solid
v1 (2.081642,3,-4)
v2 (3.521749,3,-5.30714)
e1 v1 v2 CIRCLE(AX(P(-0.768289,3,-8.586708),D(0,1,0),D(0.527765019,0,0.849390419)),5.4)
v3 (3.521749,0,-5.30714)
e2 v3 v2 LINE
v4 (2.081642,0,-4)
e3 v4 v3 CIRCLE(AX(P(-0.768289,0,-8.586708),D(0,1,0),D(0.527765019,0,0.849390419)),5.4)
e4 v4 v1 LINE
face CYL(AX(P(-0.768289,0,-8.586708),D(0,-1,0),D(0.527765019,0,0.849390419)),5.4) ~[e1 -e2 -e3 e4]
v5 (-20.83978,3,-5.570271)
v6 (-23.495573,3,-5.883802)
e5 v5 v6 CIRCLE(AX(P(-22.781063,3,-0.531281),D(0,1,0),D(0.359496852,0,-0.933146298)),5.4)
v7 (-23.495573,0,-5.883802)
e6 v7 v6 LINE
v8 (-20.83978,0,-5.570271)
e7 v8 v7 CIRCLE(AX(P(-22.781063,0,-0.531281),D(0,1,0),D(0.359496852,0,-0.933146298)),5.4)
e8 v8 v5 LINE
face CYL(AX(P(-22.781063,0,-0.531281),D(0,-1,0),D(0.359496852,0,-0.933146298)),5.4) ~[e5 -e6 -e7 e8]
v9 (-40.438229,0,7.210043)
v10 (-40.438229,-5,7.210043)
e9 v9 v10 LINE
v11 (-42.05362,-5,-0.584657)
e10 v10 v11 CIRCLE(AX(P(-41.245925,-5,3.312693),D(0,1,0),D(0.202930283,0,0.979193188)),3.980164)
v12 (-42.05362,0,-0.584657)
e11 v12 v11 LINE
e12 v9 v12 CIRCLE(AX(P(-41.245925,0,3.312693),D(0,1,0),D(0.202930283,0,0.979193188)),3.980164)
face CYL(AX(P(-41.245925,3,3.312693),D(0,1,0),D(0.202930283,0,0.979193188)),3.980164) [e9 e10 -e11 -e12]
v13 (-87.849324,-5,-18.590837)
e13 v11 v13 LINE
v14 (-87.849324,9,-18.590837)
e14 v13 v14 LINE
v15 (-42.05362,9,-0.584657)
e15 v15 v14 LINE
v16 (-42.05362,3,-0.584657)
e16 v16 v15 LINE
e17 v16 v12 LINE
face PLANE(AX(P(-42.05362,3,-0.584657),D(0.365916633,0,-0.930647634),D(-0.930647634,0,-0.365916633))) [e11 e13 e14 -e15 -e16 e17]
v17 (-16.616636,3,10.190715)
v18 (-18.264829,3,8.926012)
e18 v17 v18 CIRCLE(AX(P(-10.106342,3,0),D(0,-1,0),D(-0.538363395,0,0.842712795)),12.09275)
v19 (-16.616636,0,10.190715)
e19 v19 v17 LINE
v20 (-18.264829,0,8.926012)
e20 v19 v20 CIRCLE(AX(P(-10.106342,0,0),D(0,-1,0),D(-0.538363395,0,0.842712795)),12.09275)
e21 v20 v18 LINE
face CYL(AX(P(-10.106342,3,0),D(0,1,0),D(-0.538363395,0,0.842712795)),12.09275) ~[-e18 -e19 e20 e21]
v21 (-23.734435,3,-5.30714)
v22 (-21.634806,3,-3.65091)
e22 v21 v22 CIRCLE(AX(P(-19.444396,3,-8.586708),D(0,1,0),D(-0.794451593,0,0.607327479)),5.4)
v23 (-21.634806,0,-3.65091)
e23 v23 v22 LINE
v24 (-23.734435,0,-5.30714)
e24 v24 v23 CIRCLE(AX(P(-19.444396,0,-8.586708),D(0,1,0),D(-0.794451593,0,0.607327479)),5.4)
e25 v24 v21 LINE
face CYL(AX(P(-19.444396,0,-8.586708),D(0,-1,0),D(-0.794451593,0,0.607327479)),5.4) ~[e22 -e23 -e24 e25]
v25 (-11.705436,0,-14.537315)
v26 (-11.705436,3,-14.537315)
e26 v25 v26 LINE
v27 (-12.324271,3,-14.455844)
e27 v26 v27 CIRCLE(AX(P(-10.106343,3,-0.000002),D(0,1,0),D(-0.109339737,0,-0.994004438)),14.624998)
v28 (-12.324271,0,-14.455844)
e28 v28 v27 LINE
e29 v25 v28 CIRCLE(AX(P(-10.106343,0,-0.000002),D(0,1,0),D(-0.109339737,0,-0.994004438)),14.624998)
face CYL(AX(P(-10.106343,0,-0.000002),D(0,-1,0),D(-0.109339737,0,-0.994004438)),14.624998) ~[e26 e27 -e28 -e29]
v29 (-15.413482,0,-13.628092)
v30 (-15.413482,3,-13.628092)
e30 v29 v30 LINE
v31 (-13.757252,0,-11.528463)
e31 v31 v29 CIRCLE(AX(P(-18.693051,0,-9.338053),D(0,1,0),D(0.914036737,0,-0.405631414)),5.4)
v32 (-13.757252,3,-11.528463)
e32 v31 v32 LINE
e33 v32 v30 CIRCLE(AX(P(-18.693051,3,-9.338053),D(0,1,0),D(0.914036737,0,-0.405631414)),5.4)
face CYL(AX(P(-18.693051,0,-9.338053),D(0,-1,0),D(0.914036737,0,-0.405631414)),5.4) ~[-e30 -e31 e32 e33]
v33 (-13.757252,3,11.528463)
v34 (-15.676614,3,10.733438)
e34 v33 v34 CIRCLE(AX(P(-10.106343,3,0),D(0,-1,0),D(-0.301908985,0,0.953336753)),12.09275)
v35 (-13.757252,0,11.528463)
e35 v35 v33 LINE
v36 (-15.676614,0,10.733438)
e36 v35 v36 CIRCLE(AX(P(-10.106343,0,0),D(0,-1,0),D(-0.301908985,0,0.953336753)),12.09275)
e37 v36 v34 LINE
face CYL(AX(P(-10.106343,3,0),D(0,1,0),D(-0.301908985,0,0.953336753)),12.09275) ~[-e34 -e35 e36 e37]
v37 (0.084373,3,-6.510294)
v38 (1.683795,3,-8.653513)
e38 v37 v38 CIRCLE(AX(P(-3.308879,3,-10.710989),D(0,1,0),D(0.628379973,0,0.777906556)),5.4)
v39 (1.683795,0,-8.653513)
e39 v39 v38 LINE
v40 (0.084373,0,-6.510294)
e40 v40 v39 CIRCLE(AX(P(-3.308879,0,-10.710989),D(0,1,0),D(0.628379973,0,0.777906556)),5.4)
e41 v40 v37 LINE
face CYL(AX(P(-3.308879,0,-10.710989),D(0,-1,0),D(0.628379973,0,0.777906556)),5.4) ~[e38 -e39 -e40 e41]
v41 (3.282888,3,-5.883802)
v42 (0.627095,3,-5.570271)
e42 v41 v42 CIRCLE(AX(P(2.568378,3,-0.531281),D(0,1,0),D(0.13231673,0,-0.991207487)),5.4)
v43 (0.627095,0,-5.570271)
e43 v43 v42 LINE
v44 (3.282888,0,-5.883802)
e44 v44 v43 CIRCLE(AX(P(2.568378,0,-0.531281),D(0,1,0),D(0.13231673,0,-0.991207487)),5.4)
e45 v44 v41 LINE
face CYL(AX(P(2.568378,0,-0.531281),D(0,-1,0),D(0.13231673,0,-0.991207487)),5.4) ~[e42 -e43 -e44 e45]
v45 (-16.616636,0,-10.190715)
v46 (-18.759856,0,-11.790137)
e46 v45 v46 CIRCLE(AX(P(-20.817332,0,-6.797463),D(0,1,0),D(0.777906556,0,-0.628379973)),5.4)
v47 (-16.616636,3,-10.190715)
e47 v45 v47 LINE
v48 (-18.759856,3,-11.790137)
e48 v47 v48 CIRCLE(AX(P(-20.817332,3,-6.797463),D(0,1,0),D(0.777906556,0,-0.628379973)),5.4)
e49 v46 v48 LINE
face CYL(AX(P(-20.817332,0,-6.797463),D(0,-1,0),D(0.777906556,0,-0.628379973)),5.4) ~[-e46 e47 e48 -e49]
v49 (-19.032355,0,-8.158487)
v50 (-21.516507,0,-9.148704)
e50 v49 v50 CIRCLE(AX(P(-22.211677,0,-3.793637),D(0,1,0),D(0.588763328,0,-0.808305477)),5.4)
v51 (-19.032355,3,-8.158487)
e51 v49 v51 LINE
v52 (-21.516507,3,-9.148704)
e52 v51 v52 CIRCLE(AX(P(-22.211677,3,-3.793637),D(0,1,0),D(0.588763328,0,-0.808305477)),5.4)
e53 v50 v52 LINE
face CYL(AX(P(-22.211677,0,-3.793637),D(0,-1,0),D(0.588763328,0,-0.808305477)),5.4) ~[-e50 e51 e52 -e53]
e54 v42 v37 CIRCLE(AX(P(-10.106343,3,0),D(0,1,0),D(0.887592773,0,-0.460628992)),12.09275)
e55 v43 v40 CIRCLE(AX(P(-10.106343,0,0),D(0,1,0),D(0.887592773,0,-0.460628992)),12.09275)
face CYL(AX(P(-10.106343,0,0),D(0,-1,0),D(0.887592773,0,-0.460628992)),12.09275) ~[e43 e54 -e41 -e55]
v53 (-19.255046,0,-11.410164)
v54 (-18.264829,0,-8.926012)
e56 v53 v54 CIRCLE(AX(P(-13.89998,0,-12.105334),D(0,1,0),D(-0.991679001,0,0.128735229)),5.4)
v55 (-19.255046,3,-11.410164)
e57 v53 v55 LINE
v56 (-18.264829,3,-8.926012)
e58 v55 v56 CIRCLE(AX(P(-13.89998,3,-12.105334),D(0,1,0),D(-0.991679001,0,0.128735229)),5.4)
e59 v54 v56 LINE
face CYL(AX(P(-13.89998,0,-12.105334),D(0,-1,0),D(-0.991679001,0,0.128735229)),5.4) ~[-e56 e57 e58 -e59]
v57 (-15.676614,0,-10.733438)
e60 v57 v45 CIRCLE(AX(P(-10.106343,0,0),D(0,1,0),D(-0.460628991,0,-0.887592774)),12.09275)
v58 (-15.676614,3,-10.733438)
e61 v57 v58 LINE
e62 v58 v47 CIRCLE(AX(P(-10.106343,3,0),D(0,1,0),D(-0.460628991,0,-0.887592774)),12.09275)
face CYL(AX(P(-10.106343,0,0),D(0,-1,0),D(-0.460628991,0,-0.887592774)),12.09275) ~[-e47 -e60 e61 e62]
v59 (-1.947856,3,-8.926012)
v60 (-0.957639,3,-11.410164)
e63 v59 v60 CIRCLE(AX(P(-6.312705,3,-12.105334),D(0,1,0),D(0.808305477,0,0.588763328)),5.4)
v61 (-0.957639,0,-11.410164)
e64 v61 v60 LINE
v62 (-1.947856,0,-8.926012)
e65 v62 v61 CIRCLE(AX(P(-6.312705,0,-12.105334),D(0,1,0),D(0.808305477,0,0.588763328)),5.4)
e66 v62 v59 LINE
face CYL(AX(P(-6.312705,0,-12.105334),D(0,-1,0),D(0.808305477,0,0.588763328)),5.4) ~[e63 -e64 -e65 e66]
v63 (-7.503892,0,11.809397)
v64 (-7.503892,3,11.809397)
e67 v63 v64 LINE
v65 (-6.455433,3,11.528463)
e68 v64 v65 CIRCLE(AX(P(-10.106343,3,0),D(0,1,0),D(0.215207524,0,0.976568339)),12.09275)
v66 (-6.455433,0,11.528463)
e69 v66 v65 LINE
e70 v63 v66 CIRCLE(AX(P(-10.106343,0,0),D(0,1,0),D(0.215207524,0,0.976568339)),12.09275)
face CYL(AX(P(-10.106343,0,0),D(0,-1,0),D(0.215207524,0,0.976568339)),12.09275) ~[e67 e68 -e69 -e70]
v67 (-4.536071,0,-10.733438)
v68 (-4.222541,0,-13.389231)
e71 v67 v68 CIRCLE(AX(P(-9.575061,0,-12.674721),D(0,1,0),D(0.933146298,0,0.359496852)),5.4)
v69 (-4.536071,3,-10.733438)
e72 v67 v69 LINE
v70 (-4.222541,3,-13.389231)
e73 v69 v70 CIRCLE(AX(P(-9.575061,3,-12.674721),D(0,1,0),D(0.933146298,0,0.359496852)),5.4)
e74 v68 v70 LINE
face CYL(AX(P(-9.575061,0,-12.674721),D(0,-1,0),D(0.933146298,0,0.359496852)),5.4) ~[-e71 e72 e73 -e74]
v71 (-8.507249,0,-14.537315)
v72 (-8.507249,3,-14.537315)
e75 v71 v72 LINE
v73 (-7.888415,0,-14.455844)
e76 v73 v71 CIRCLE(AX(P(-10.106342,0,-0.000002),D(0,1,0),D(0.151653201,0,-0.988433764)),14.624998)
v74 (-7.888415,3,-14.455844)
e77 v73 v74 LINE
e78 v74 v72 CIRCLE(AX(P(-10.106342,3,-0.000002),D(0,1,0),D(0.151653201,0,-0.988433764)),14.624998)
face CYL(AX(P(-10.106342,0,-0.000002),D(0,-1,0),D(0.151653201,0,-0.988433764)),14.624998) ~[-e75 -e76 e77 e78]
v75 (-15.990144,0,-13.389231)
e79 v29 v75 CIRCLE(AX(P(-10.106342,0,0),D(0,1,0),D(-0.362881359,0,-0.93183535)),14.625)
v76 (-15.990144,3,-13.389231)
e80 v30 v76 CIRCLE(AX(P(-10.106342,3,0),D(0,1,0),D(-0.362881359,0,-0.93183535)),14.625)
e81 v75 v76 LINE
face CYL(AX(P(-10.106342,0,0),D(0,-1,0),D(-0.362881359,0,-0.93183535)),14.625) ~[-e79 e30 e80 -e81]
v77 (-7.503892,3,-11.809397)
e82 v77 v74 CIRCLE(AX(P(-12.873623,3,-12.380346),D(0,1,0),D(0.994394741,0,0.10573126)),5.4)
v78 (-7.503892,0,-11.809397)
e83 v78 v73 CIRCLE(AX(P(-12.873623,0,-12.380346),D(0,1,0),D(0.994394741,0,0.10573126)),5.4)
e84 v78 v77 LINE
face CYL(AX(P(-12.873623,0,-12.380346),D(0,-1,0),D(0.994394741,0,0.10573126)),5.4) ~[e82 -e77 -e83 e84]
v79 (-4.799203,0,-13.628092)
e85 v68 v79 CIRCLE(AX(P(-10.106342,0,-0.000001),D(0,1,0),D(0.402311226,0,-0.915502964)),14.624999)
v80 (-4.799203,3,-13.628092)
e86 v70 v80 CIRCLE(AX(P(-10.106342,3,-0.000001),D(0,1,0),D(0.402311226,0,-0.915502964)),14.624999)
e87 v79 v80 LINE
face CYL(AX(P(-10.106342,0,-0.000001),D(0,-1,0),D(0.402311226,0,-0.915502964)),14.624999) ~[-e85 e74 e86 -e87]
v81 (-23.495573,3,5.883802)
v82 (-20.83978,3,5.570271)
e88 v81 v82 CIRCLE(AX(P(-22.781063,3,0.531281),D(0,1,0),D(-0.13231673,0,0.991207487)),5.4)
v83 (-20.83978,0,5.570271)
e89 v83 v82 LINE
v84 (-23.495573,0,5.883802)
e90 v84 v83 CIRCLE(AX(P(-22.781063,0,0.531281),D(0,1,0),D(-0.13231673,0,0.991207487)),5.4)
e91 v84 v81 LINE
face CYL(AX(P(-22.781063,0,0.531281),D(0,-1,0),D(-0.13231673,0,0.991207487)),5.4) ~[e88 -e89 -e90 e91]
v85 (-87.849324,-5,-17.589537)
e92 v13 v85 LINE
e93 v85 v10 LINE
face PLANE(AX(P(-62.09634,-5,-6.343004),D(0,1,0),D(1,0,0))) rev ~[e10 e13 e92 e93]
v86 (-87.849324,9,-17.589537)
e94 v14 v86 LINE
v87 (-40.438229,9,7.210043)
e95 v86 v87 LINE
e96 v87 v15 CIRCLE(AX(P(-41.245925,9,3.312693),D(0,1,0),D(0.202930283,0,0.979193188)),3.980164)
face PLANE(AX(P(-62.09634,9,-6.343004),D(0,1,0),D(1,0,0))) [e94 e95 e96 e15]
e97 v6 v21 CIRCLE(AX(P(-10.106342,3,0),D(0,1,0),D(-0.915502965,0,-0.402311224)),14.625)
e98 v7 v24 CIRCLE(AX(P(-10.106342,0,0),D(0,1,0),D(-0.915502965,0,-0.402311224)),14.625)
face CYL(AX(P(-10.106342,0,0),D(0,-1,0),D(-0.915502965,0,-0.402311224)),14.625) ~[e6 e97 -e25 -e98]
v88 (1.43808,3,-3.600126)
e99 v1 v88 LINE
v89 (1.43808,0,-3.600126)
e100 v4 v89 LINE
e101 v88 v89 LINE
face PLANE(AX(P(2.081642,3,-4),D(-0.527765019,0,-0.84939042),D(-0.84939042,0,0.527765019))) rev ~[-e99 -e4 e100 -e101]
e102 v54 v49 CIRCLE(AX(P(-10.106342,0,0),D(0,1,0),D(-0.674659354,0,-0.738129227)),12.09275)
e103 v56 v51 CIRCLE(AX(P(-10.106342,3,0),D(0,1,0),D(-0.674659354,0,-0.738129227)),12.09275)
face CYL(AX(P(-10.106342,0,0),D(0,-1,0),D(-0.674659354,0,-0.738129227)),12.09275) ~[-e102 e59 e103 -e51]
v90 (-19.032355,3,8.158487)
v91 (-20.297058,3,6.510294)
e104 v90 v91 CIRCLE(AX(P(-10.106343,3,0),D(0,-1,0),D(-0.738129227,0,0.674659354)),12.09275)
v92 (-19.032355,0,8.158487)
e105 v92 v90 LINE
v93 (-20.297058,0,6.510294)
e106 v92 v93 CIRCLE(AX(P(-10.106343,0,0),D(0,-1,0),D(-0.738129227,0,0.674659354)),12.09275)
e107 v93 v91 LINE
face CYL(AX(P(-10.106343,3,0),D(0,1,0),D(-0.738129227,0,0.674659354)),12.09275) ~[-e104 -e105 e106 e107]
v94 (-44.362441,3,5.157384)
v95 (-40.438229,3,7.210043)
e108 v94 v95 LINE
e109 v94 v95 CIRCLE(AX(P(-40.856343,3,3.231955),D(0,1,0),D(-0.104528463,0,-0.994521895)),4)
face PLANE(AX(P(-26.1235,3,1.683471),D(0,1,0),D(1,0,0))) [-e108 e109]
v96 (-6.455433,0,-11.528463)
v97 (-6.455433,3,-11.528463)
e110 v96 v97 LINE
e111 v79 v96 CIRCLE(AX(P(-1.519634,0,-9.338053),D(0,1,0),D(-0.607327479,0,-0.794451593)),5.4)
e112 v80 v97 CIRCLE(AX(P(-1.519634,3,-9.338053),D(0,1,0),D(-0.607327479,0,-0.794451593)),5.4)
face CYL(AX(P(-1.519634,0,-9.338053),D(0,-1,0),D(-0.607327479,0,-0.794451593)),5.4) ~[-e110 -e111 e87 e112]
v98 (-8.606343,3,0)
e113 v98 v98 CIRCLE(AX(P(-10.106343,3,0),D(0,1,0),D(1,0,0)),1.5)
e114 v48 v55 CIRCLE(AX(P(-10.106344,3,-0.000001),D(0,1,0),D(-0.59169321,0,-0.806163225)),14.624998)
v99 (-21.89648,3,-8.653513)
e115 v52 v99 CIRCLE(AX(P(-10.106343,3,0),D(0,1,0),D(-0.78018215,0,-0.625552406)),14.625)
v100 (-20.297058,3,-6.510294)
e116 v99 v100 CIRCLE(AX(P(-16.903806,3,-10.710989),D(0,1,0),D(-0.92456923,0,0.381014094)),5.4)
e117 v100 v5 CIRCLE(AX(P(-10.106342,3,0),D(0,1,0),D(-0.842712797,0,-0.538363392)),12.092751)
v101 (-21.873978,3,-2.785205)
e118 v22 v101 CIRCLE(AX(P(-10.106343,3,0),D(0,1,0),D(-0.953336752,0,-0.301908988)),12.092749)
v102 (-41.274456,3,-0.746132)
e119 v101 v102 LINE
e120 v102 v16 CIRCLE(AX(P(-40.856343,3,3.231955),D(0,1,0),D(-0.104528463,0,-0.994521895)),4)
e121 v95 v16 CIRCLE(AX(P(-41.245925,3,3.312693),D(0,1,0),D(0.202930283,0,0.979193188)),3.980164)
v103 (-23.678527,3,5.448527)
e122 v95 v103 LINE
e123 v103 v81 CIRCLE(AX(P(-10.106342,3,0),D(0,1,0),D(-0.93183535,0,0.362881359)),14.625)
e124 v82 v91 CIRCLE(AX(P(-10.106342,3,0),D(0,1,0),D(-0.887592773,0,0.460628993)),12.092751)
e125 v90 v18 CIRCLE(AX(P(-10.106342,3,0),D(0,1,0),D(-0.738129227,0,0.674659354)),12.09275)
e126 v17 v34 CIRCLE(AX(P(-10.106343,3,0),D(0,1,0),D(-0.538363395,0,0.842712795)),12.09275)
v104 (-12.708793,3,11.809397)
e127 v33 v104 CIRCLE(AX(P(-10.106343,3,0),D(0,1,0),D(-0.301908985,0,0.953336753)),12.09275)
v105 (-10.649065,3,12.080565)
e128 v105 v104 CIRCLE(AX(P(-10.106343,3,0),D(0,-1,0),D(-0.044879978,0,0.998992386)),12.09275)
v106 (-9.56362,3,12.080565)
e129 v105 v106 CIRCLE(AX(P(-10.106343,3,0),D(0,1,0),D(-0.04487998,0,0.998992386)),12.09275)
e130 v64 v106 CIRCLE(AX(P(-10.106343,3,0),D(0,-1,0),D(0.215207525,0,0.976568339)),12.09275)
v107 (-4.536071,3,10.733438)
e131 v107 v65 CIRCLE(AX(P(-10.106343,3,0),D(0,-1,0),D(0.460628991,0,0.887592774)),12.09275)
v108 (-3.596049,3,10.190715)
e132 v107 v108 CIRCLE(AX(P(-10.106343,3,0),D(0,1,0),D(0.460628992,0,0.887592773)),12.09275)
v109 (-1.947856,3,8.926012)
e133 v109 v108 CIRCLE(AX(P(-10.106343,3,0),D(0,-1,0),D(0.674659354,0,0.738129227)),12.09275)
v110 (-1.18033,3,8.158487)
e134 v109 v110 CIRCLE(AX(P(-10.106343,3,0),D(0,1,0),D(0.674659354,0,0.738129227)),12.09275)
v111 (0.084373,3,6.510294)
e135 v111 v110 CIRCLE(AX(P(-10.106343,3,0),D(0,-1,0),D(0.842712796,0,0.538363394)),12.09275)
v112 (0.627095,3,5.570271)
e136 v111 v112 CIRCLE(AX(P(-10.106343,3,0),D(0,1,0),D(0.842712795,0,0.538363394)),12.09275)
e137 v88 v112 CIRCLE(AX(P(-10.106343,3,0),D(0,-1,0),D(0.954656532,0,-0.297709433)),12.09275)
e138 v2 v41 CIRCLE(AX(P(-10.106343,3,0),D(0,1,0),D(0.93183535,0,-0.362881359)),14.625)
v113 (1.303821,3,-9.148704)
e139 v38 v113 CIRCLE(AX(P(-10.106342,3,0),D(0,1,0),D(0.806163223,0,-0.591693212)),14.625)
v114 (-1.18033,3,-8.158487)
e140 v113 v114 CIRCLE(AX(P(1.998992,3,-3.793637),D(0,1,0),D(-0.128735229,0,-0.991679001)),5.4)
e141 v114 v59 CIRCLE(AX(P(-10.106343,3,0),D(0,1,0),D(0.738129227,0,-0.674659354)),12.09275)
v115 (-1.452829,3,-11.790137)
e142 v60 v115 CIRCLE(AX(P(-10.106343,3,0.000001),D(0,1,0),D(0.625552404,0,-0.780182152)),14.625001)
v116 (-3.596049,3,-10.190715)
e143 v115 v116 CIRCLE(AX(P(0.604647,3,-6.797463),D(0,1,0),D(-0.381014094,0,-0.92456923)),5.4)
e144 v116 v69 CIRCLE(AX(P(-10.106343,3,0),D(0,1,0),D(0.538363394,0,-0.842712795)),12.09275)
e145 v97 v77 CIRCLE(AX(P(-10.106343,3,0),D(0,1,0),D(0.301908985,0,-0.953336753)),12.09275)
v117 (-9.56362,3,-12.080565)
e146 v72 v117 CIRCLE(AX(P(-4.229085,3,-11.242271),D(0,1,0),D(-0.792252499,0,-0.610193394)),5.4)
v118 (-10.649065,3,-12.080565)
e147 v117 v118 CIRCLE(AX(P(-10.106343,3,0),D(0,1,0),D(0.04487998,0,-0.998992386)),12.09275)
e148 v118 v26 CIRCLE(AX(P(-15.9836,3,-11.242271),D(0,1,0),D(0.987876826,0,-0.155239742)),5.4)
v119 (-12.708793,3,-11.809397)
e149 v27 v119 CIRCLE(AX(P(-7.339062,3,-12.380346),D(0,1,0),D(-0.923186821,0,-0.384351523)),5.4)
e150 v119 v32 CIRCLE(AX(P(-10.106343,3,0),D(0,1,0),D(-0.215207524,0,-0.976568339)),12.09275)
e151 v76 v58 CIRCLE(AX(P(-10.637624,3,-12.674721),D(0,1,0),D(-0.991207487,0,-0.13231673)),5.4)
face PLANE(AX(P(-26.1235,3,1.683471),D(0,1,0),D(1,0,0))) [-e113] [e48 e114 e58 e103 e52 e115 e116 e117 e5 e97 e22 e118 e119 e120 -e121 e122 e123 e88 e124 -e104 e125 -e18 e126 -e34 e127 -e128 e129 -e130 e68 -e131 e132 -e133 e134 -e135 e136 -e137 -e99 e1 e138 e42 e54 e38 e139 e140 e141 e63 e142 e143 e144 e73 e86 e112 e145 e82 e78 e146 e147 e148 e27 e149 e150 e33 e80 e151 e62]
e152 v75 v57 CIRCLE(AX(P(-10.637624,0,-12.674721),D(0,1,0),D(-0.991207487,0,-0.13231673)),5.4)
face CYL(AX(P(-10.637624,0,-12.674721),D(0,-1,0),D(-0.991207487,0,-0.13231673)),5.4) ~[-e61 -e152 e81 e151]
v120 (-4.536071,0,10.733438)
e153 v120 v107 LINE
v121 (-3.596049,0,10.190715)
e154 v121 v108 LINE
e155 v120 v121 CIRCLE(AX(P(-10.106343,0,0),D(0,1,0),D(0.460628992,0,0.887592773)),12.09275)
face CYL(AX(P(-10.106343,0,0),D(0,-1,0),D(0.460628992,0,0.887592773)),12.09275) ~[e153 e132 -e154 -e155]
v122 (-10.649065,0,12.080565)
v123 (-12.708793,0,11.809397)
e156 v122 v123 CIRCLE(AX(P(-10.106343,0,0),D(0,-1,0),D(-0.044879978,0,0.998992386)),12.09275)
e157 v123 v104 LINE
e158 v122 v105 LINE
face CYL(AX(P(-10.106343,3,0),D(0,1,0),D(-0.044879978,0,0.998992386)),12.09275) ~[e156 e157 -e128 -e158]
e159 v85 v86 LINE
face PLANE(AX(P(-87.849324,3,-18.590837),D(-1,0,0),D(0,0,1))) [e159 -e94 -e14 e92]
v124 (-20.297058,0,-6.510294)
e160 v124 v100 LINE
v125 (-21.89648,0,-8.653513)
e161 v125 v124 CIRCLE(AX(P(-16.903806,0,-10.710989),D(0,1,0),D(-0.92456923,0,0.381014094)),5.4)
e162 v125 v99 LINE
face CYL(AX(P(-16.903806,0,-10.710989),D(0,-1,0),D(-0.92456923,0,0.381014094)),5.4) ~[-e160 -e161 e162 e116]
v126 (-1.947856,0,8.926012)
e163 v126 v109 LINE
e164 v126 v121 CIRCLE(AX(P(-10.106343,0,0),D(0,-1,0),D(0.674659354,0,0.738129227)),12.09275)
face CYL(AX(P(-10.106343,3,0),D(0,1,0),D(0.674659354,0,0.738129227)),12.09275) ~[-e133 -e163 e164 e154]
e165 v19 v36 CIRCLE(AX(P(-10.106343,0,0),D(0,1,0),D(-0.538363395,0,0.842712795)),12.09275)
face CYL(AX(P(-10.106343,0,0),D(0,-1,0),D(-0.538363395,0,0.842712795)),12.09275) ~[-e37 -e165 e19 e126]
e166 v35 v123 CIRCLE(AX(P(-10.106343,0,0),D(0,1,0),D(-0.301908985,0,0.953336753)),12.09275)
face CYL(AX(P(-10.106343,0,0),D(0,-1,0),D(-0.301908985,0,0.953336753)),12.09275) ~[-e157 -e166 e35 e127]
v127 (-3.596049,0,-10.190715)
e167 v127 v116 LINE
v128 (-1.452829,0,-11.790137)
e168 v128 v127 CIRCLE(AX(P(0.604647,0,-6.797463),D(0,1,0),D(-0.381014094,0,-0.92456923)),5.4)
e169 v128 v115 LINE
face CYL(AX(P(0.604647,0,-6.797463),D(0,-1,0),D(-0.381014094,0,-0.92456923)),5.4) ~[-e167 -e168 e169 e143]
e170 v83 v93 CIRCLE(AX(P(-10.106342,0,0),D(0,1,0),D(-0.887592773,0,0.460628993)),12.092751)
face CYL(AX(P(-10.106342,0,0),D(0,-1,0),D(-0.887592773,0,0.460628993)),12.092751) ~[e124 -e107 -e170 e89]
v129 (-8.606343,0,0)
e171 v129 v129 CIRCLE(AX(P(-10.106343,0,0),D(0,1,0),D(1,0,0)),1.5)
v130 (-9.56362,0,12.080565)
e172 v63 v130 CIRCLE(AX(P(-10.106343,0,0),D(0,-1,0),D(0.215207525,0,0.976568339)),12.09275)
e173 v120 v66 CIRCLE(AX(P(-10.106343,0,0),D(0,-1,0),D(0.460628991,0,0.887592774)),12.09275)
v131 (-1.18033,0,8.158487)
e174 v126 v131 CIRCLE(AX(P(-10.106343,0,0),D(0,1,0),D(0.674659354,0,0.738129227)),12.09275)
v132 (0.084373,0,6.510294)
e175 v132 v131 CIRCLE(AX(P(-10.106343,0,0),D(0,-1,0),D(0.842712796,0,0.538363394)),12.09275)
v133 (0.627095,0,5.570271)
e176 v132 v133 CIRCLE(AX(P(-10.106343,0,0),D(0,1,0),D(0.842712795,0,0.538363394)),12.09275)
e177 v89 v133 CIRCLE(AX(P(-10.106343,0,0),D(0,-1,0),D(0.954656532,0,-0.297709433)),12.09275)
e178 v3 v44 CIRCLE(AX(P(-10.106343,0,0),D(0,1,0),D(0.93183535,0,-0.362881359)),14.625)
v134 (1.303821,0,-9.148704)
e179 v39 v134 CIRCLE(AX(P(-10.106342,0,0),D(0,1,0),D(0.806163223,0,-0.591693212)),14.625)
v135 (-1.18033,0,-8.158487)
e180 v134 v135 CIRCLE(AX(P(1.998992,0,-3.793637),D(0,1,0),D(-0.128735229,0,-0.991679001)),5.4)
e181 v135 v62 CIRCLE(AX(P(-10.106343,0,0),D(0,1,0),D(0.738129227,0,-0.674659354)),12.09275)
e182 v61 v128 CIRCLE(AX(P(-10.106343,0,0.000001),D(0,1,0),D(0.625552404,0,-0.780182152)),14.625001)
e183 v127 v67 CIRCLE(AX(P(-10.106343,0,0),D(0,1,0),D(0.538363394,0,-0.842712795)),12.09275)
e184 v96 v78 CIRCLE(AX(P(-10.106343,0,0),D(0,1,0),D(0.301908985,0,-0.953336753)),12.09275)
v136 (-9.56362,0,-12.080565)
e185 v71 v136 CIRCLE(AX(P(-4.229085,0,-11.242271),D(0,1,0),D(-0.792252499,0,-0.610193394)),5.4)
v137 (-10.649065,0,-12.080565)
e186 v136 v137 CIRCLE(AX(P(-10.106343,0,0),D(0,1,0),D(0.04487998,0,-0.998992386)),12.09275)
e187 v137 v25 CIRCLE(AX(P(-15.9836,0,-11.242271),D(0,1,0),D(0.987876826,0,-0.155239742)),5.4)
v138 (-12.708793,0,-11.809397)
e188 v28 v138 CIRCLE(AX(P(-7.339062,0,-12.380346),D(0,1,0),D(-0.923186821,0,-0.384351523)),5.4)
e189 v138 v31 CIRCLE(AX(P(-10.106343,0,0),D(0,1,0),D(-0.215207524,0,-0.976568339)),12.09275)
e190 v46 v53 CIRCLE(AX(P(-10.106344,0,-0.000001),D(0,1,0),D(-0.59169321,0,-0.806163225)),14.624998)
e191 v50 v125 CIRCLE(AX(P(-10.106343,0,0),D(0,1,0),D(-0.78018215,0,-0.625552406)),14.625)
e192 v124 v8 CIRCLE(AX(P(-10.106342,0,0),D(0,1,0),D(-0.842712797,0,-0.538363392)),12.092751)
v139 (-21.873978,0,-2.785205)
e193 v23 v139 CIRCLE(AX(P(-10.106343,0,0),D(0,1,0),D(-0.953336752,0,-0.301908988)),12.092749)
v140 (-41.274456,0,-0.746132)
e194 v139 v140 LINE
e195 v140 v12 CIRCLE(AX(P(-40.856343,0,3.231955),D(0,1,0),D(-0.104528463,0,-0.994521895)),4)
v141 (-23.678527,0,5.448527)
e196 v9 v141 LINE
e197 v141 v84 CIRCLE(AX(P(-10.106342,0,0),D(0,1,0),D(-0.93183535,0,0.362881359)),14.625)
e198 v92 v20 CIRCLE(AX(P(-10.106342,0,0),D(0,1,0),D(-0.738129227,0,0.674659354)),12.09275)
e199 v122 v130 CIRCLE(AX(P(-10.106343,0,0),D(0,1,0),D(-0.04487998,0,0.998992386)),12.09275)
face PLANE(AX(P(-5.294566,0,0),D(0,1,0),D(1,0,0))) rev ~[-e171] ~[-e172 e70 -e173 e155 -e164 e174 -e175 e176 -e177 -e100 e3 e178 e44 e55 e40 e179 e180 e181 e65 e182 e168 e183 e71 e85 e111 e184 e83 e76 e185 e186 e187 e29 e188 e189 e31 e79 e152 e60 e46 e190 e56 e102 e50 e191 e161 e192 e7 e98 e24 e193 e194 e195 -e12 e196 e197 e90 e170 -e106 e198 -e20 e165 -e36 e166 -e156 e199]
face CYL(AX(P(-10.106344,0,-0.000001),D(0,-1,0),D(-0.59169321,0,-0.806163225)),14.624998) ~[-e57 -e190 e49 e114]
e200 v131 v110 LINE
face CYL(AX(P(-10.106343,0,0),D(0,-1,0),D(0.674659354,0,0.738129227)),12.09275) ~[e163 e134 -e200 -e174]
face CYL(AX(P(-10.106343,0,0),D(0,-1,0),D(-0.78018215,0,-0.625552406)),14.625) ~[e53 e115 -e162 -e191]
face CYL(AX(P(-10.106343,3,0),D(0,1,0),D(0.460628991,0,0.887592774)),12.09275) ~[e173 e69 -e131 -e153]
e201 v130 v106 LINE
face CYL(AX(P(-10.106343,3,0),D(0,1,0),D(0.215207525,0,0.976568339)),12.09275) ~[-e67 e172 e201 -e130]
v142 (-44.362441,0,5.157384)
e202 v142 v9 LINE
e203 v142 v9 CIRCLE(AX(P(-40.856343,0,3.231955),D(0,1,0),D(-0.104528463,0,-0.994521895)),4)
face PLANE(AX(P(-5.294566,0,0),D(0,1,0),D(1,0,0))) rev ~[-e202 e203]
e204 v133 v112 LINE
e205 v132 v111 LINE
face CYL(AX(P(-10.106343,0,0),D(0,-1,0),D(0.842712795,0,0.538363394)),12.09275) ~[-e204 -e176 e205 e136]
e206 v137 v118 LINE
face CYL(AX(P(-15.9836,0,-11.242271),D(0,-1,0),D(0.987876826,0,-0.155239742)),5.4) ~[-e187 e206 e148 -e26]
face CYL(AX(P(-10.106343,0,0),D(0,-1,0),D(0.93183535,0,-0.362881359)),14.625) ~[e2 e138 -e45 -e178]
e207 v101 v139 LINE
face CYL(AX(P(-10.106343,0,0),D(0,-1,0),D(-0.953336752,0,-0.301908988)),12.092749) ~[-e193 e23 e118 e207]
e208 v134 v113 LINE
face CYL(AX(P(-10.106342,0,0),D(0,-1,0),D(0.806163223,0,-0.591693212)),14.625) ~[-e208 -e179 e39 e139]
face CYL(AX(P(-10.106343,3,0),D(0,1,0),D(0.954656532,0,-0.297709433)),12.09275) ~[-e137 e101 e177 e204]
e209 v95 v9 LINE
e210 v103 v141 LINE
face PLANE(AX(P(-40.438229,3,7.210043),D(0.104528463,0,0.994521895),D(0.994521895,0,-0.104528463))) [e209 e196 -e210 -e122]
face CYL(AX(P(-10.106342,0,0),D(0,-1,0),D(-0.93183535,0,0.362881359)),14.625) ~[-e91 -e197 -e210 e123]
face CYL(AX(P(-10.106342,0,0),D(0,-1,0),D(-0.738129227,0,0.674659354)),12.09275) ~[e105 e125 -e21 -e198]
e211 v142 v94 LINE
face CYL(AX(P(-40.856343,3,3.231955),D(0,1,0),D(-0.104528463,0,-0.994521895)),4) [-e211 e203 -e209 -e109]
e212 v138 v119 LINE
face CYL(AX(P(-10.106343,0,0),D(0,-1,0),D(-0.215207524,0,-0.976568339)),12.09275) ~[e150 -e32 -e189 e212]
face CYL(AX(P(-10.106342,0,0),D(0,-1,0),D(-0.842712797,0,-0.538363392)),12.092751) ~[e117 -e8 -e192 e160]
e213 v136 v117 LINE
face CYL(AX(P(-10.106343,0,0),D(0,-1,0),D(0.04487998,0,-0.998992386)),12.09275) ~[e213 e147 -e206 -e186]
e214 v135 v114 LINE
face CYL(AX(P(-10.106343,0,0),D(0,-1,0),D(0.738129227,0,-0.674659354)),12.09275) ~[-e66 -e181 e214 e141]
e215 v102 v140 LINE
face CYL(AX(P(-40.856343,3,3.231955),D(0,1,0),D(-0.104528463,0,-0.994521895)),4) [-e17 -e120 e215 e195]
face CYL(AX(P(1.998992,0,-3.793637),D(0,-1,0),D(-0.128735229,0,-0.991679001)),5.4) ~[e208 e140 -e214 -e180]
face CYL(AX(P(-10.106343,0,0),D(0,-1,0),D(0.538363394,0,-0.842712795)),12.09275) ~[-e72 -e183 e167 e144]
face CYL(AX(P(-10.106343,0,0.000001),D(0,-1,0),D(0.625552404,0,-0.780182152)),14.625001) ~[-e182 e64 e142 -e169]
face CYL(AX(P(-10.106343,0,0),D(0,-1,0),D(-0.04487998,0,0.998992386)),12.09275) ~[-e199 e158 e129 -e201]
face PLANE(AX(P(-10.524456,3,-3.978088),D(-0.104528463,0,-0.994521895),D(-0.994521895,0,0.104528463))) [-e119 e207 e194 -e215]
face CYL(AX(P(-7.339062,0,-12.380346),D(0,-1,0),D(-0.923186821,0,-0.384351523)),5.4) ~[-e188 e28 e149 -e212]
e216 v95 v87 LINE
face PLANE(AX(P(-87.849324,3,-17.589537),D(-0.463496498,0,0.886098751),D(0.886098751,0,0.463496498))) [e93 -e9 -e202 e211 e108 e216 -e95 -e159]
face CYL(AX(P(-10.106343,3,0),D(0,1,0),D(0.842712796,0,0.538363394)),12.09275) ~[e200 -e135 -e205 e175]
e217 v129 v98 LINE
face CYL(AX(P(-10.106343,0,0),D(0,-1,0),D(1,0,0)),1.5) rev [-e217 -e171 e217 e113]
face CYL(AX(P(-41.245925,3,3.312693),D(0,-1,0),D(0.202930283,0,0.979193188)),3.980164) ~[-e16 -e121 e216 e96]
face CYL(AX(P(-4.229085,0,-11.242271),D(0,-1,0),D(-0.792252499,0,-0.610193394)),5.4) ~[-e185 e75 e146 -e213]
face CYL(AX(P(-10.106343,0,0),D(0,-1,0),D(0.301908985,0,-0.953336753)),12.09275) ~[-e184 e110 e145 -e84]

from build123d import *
from build123d.topology import SkipClean

# Parameters (mm, degrees)
SKETCH1_R                = 1.5
BOSS_EXTRUDE1_DEPTH      = 3
BOSS_EXTRUDE2_START      = -3
SKETCH3_R                = 1.5
BOSS_EXTRUDE2_DEPTH      = 3
CUT_EXTRUDE1_START       = -3
CUT_EXTRUDE1_DEPTH       = 3
BOSS_EXTRUDE3_DEPTH      = 6
BOSS_EXTRUDE3_DEPTH_BACK = 8


with BuildPart() as part:
    # Sketch1 → Boss-Extrude1 (new body)
    with BuildSketch(Plane(origin=(0, 0, 0), x_dir=(1, 0, 0), z_dir=(0, 1, 0))):
        with BuildLine():
            Line((20.643657446, 4), (2.081641936, 4))
            ThreePointArc((2.081641936, 4), (2.861028333, 4.588201733), (3.521749436, 5.30713988))
            ThreePointArc((3.521749436, 5.30713988), (3.405395609, 5.596745198), (3.282888305, 5.883801663))
            ThreePointArc((3.282888305, 5.883801663), (1.93527598, 5.894040025), (0.627094961, 5.57027124))
            ThreePointArc((0.627094961, 5.57027124), (0.366286148, 6.046375), (0.084372603, 6.510293938))
            ThreePointArc((0.084372603, 6.510293938), (1.018855105, 7.48132754), (1.683794586, 8.65351323))
            ThreePointArc((1.683794586, 8.65351323), (1.496450048, 8.903135899), (1.303821399, 9.148703928))
            ThreePointArc((1.303821399, 9.148703928), (-0.000522033, 8.809805691), (-1.180330337, 8.158486898))
            ThreePointArc((-1.180330337, 8.158486898), (-1.555477026, 8.550865528), (-1.947855656, 8.926012217))
            ThreePointArc((-1.947855656, 8.926012217), (-1.296536862, 10.105820521), (-0.957638625, 11.410163953))
            ThreePointArc((-0.957638625, 11.410163953), (-1.203206655, 11.602792602), (-1.452829324, 11.79013714))
            ThreePointArc((-1.452829324, 11.79013714), (-2.625015014, 11.125197659), (-3.596048616, 10.190715157))
            ThreePointArc((-3.596048616, 10.190715157), (-4.059967554, 10.472628702), (-4.536071314, 10.733437515))
            ThreePointArc((-4.536071314, 10.733437515), (-4.212302529, 12.041618533), (-4.222540891, 13.389230859))
            ThreePointArc((-4.222540891, 13.389230859), (-4.509597355, 13.511738163), (-4.799202674, 13.62809199))
            ThreePointArc((-4.799202674, 13.62809199), (-5.759348103, 12.682425791), (-6.455432668, 11.528463019))
            ThreePointArc((-6.455432668, 11.528463019), (-6.976508546, 11.680699536), (-7.503891752, 11.809396783))
            ThreePointArc((-7.503891752, 11.809396783), (-7.529737283, 13.156800143), (-7.888414517, 14.455843809))
            ThreePointArc((-7.888414517, 14.455843809), (-8.197396993, 14.499881098), (-8.507248835, 14.537314892))
            ThreePointArc((-8.507248835, 14.537314892), (-9.18992168, 13.375367565), (-9.563620196, 12.080565177))
            ThreePointArc((-9.563620196, 12.080565177), (-10.106342554, 12.09275), (-10.649064912, 12.080565177))
            ThreePointArc((-10.649064912, 12.080565177), (-11.022763428, 13.375367565), (-11.705436272, 14.537314892))
            ThreePointArc((-11.705436272, 14.537314892), (-12.015288115, 14.499881098), (-12.324270591, 14.455843809))
            ThreePointArc((-12.324270591, 14.455843809), (-12.682947825, 13.156800143), (-12.708793355, 11.809396783))
            ThreePointArc((-12.708793355, 11.809396783), (-13.236176561, 11.680699536), (-13.757252439, 11.528463019))
            ThreePointArc((-13.757252439, 11.528463019), (-14.453337005, 12.682425791), (-15.413482434, 13.62809199))
            ThreePointArc((-15.413482434, 13.62809199), (-15.703087752, 13.511738163), (-15.990144217, 13.389230859))
            ThreePointArc((-15.990144217, 13.389230859), (-16.000382579, 12.041618533), (-15.676613793, 10.733437515))
            ThreePointArc((-15.676613793, 10.733437515), (-16.152717554, 10.472628702), (-16.616636492, 10.190715157))
            ThreePointArc((-16.616636492, 10.190715157), (-17.587670094, 11.125197659), (-18.759855783, 11.79013714))
            ThreePointArc((-18.759855783, 11.79013714), (-19.009478453, 11.602792602), (-19.255046482, 11.410163953))
            ThreePointArc((-19.255046482, 11.410163953), (-18.916148245, 10.105820521), (-18.264829452, 8.926012217))
            ThreePointArc((-18.264829452, 8.926012217), (-18.657208082, 8.550865528), (-19.032354771, 8.158486898))
            ThreePointArc((-19.032354771, 8.158486898), (-20.212163074, 8.809805691), (-21.516506507, 9.148703928))
            ThreePointArc((-21.516506507, 9.148703928), (-21.709135156, 8.903135899), (-21.896479694, 8.65351323))
            ThreePointArc((-21.896479694, 8.65351323), (-21.231540213, 7.48132754), (-20.297057711, 6.510293938))
            ThreePointArc((-20.297057711, 6.510293938), (-20.578971255, 6.046375), (-20.839780068, 5.57027124))
            ThreePointArc((-20.839780068, 5.57027124), (-22.147961087, 5.894040025), (-23.495573413, 5.883801663))
            ThreePointArc((-23.495573413, 5.883801663), (-23.618080717, 5.596745198), (-23.734434544, 5.30713988))
            ThreePointArc((-23.734434544, 5.30713988), (-22.788768345, 4.346994451), (-21.634805572, 3.650909885))
            ThreePointArc((-21.634805572, 3.650909885), (-21.78704209, 3.129834008), (-21.915739337, 2.602450802))
            ThreePointArc((-21.915739337, 2.602450802), (-23.263142697, 2.576605271), (-24.562186363, 2.217928037))
            ThreePointArc((-24.562186363, 2.217928037), (-24.606223651, 1.908945561), (-24.643657446, 1.599093719))
            ThreePointArc((-24.643657446, 1.599093719), (-23.481710119, 0.916420874), (-22.186907731, 0.542722358))
            ThreePointArc((-22.186907731, 0.542722358), (-22.199092554, 0), (-22.186907731, -0.542722358))
            ThreePointArc((-22.186907731, -0.542722358), (-23.481710119, -0.916420874), (-24.643657446, -1.599093719))
            ThreePointArc((-24.643657446, -1.599093719), (-24.606223651, -1.908945561), (-24.562186363, -2.217928037))
            ThreePointArc((-24.562186363, -2.217928037), (-23.263142697, -2.576605271), (-21.915739337, -2.602450802))
            ThreePointArc((-21.915739337, -2.602450802), (-21.78704209, -3.129834008), (-21.634805572, -3.650909885))
            ThreePointArc((-21.634805572, -3.650909885), (-22.788768345, -4.346994451), (-23.734434544, -5.30713988))
            ThreePointArc((-23.734434544, -5.30713988), (-23.618080717, -5.596745198), (-23.495573413, -5.883801663))
            ThreePointArc((-23.495573413, -5.883801663), (-22.147961087, -5.894040025), (-20.839780068, -5.57027124))
            ThreePointArc((-20.839780068, -5.57027124), (-20.578971255, -6.046375), (-20.297057711, -6.510293938))
            ThreePointArc((-20.297057711, -6.510293938), (-21.231540213, -7.48132754), (-21.896479694, -8.65351323))
            ThreePointArc((-21.896479694, -8.65351323), (-21.709135156, -8.903135899), (-21.516506507, -9.148703928))
            ThreePointArc((-21.516506507, -9.148703928), (-20.212163074, -8.809805691), (-19.032354771, -8.158486898))
            ThreePointArc((-19.032354771, -8.158486898), (-18.657208082, -8.550865528), (-18.264829452, -8.926012217))
            ThreePointArc((-18.264829452, -8.926012217), (-18.916148245, -10.105820521), (-19.255046482, -11.410163953))
            ThreePointArc((-19.255046482, -11.410163953), (-19.009478453, -11.602792602), (-18.759855783, -11.79013714))
            ThreePointArc((-18.759855783, -11.79013714), (-17.587670094, -11.125197659), (-16.616636492, -10.190715157))
            ThreePointArc((-16.616636492, -10.190715157), (-16.152717554, -10.472628702), (-15.676613793, -10.733437515))
            ThreePointArc((-15.676613793, -10.733437515), (-16.000382579, -12.041618533), (-15.990144217, -13.389230859))
            ThreePointArc((-15.990144217, -13.389230859), (-15.703087752, -13.511738163), (-15.413482434, -13.62809199))
            ThreePointArc((-15.413482434, -13.62809199), (-14.453337005, -12.682425791), (-13.757252439, -11.528463019))
            ThreePointArc((-13.757252439, -11.528463019), (-13.236176561, -11.680699536), (-12.708793355, -11.809396783))
            ThreePointArc((-12.708793355, -11.809396783), (-12.682947825, -13.156800143), (-12.324270591, -14.455843809))
            ThreePointArc((-12.324270591, -14.455843809), (-12.015288115, -14.499881098), (-11.705436272, -14.537314892))
            ThreePointArc((-11.705436272, -14.537314892), (-11.022763428, -13.375367565), (-10.649064912, -12.080565177))
            ThreePointArc((-10.649064912, -12.080565177), (-10.106342554, -12.09275), (-9.563620196, -12.080565177))
            ThreePointArc((-9.563620196, -12.080565177), (-9.18992168, -13.375367565), (-8.507248835, -14.537314892))
            ThreePointArc((-8.507248835, -14.537314892), (-8.197396993, -14.499881098), (-7.888414517, -14.455843809))
            ThreePointArc((-7.888414517, -14.455843809), (-7.529737283, -13.156800143), (-7.503891752, -11.809396783))
            ThreePointArc((-7.503891752, -11.809396783), (-6.976508546, -11.680699536), (-6.455432668, -11.528463019))
            ThreePointArc((-6.455432668, -11.528463019), (-5.759348103, -12.682425791), (-4.799202674, -13.62809199))
            ThreePointArc((-4.799202674, -13.62809199), (-4.509597355, -13.511738163), (-4.222540891, -13.389230859))
            ThreePointArc((-4.222540891, -13.389230859), (-4.212302529, -12.041618533), (-4.536071314, -10.733437515))
            ThreePointArc((-4.536071314, -10.733437515), (-4.059967554, -10.472628702), (-3.596048616, -10.190715157))
            ThreePointArc((-3.596048616, -10.190715157), (-2.625015014, -11.125197659), (-1.452829324, -11.79013714))
            ThreePointArc((-1.452829324, -11.79013714), (-1.203206655, -11.602792602), (-0.957638625, -11.410163953))
            ThreePointArc((-0.957638625, -11.410163953), (-1.296536862, -10.105820521), (-1.947855656, -8.926012217))
            ThreePointArc((-1.947855656, -8.926012217), (-1.555477026, -8.550865528), (-1.180330337, -8.158486898))
            ThreePointArc((-1.180330337, -8.158486898), (-0.000522033, -8.809805691), (1.303821399, -9.148703928))
            ThreePointArc((1.303821399, -9.148703928), (1.496450048, -8.903135899), (1.683794586, -8.65351323))
            ThreePointArc((1.683794586, -8.65351323), (1.018855105, -7.48132754), (0.084372603, -6.510293938))
            ThreePointArc((0.084372603, -6.510293938), (0.366286148, -6.046375), (0.627094961, -5.57027124))
            ThreePointArc((0.627094961, -5.57027124), (1.93527598, -5.894040025), (3.282888305, -5.883801663))
            ThreePointArc((3.282888305, -5.883801663), (3.405395609, -5.596745198), (3.521749436, -5.30713988))
            ThreePointArc((3.521749436, -5.30713988), (2.861028333, -4.588201733), (2.081641936, -4))
            Line((2.081641936, -4), (20.643657446, -4))
            ThreePointArc((20.643657446, -4), (24.643657446, 0), (20.643657446, 4))
        make_face()
        with Locations((-10.106342554, 0)):
            Circle(SKETCH1_R, mode=Mode.SUBTRACT)
        with Locations((20.643657446, 0)):
            Circle(SKETCH1_R, mode=Mode.SUBTRACT)
    extrude(amount=BOSS_EXTRUDE1_DEPTH)

    # Sketch3 → Boss-Extrude2 (add)
    with BuildSketch(Plane(origin=(0, 3, 0), x_dir=(1, 0, 0), z_dir=(0, 1, 0)).offset(BOSS_EXTRUDE2_START)):
        with BuildLine():
            Line((-10.524456407, 3.978087581), (-41.274456407, 0.746132347))
            ThreePointArc((-41.274456407, 0.746132347), (-44.834430135, -3.650069087), (-40.438228701, -7.210042816))
            Line((-40.438228701, -7.210042816), (-9.688228701, -3.978087581))
            ThreePointArc((-9.688228701, -3.978087581), (-6.128254972, 0.418113853), (-10.524456407, 3.978087581))
        make_face()
        with Locations((-10.106342554, 0)):
            Circle(SKETCH3_R, mode=Mode.SUBTRACT)
        with Locations((-40.856342554, -3.231955234)):
            Circle(SKETCH3_R, mode=Mode.SUBTRACT)
    extrude(amount=BOSS_EXTRUDE2_DEPTH)

    # Sketch4 → Cut-Extrude1 (cut)
    with SkipClean():  # the faces are left unmerged after this step: merging them gives an invalid solid
        with BuildSketch(Plane(origin=(0, 3, 0), x_dir=(1, 0, 0), z_dir=(0, 1, 0)).offset(CUT_EXTRUDE1_START)):
            with BuildLine():
                ThreePointArc((20.643657446, -4), (24.643657446, 0), (20.643657446, 4))
                Line((20.643657446, 4), (2.081641936, 4))
                Line((2.081641936, 4), (1.43808022, 3.600125745))
                ThreePointArc((1.43808022, 3.600125745), (1.939395696, -1.065266441), (0.627094961, -5.57027124))
                ThreePointArc((0.627094961, -5.57027124), (1.93527598, -5.894040025), (3.282888305, -5.883801663))
                ThreePointArc((3.282888305, -5.883801663), (3.405395609, -5.596745198), (3.521749436, -5.30713988))
                ThreePointArc((3.521749436, -5.30713988), (2.861028333, -4.588201733), (2.081641936, -4))
                Line((2.081641936, -4), (20.643657446, -4))
            make_face()
            with BuildLine():
                ThreePointArc((1.683794586, -8.65351323), (1.018855105, -7.48132754), (0.084372603, -6.510293938))
                ThreePointArc((0.084372603, -6.510293938), (-0.512518948, -7.361599771), (-1.180330337, -8.158486898))
                ThreePointArc((-1.180330337, -8.158486898), (-0.000522033, -8.809805691), (1.303821399, -9.148703928))
                ThreePointArc((1.303821399, -9.148703928), (1.496450048, -8.903135899), (1.683794586, -8.65351323))
            make_face()
            with BuildLine():
                ThreePointArc((-0.957638625, -11.410163953), (-1.296536862, -10.105820521), (-1.947855656, -8.926012217))
                ThreePointArc((-1.947855656, -8.926012217), (-2.744742783, -9.593823606), (-3.596048616, -10.190715157))
                ThreePointArc((-3.596048616, -10.190715157), (-2.625015014, -11.125197659), (-1.452829324, -11.79013714))
                ThreePointArc((-1.452829324, -11.79013714), (-1.203206655, -11.602792602), (-0.957638625, -11.410163953))
            make_face()
            with BuildLine():
                ThreePointArc((-4.222540891, -13.389230859), (-4.212302529, -12.041618533), (-4.536071314, -10.733437515))
                ThreePointArc((-4.536071314, -10.733437515), (-5.478647477, -11.172244217), (-6.455432668, -11.528463019))
                ThreePointArc((-6.455432668, -11.528463019), (-5.759348103, -12.682425791), (-4.799202674, -13.62809199))
                ThreePointArc((-4.799202674, -13.62809199), (-4.509597355, -13.511738163), (-4.222540891, -13.389230859))
            make_face()
            with BuildLine():
                ThreePointArc((-7.888414517, -14.455843809), (-7.529737283, -13.156800143), (-7.503891752, -11.809396783))
                ThreePointArc((-7.503891752, -11.809396783), (-8.527921943, -11.989294847), (-9.563620196, -12.080565177))
                ThreePointArc((-9.563620196, -12.080565177), (-9.18992168, -13.375367565), (-8.507248835, -14.537314892))
                ThreePointArc((-8.507248835, -14.537314892), (-8.197396993, -14.499881098), (-7.888414517, -14.455843809))
            make_face()
            with BuildLine():
                ThreePointArc((-11.705436272, -14.537314892), (-11.022763428, -13.375367565), (-10.649064912, -12.080565177))
                ThreePointArc((-10.649064912, -12.080565177), (-11.684763165, -11.989294847), (-12.708793355, -11.809396783))
                ThreePointArc((-12.708793355, -11.809396783), (-12.682947825, -13.156800143), (-12.324270591, -14.455843809))
                ThreePointArc((-12.324270591, -14.455843809), (-12.015288115, -14.499881098), (-11.705436272, -14.537314892))
            make_face()
            with BuildLine():
                ThreePointArc((-15.413482434, -13.62809199), (-14.453337005, -12.682425791), (-13.757252439, -11.528463019))
                ThreePointArc((-13.757252439, -11.528463019), (-14.734037631, -11.172244217), (-15.676613793, -10.733437515))
                ThreePointArc((-15.676613793, -10.733437515), (-16.000382579, -12.041618533), (-15.990144217, -13.389230859))
                ThreePointArc((-15.990144217, -13.389230859), (-15.703087752, -13.511738163), (-15.413482434, -13.62809199))
            make_face()
            with BuildLine():
                ThreePointArc((-18.759855783, -11.79013714), (-17.587670094, -11.125197659), (-16.616636492, -10.190715157))
                ThreePointArc((-16.616636492, -10.190715157), (-17.467942324, -9.593823606), (-18.264829452, -8.926012217))
                ThreePointArc((-18.264829452, -8.926012217), (-18.916148245, -10.105820521), (-19.255046482, -11.410163953))
                ThreePointArc((-19.255046482, -11.410163953), (-19.009478453, -11.602792602), (-18.759855783, -11.79013714))
            make_face()
            with BuildLine():
                ThreePointArc((-21.516506507, -9.148703928), (-20.212163074, -8.809805691), (-19.032354771, -8.158486898))
                ThreePointArc((-19.032354771, -8.158486898), (-19.70016616, -7.361599771), (-20.297057711, -6.510293938))
                ThreePointArc((-20.297057711, -6.510293938), (-21.231540213, -7.48132754), (-21.896479694, -8.65351323))
                ThreePointArc((-21.896479694, -8.65351323), (-21.709135156, -8.903135899), (-21.516506507, -9.148703928))
            make_face()
        extrude(amount=CUT_EXTRUDE1_DEPTH, mode=Mode.SUBTRACT)

    # Sketch5 → Boss-Extrude3 (add, two sides: drawn at the far end of the back side and taken through both)
    with SkipClean():  # the faces are left unmerged after this step: merging them gives an invalid solid
        with BuildSketch(Plane(origin=(0, 3, 0), x_dir=(1, 0, 0), z_dir=(0, 1, 0)).offset(-BOSS_EXTRUDE3_DEPTH_BACK)):
            with BuildLine():
                Line((-42.053620407, 0.58465658), (-87.849323809, 18.590837409))
                Line((-87.849323809, 18.590837409), (-87.849323809, 17.589536845))
                Line((-87.849323809, 17.589536845), (-40.438228701, -7.210042816))
                ThreePointArc((-40.438228701, -7.210042816), (-37.348574856, -2.504997265), (-42.053620407, 0.58465658))
            make_face()
        extrude(amount=BOSS_EXTRUDE3_DEPTH + BOSS_EXTRUDE3_DEPTH_BACK)


solid = part.part
